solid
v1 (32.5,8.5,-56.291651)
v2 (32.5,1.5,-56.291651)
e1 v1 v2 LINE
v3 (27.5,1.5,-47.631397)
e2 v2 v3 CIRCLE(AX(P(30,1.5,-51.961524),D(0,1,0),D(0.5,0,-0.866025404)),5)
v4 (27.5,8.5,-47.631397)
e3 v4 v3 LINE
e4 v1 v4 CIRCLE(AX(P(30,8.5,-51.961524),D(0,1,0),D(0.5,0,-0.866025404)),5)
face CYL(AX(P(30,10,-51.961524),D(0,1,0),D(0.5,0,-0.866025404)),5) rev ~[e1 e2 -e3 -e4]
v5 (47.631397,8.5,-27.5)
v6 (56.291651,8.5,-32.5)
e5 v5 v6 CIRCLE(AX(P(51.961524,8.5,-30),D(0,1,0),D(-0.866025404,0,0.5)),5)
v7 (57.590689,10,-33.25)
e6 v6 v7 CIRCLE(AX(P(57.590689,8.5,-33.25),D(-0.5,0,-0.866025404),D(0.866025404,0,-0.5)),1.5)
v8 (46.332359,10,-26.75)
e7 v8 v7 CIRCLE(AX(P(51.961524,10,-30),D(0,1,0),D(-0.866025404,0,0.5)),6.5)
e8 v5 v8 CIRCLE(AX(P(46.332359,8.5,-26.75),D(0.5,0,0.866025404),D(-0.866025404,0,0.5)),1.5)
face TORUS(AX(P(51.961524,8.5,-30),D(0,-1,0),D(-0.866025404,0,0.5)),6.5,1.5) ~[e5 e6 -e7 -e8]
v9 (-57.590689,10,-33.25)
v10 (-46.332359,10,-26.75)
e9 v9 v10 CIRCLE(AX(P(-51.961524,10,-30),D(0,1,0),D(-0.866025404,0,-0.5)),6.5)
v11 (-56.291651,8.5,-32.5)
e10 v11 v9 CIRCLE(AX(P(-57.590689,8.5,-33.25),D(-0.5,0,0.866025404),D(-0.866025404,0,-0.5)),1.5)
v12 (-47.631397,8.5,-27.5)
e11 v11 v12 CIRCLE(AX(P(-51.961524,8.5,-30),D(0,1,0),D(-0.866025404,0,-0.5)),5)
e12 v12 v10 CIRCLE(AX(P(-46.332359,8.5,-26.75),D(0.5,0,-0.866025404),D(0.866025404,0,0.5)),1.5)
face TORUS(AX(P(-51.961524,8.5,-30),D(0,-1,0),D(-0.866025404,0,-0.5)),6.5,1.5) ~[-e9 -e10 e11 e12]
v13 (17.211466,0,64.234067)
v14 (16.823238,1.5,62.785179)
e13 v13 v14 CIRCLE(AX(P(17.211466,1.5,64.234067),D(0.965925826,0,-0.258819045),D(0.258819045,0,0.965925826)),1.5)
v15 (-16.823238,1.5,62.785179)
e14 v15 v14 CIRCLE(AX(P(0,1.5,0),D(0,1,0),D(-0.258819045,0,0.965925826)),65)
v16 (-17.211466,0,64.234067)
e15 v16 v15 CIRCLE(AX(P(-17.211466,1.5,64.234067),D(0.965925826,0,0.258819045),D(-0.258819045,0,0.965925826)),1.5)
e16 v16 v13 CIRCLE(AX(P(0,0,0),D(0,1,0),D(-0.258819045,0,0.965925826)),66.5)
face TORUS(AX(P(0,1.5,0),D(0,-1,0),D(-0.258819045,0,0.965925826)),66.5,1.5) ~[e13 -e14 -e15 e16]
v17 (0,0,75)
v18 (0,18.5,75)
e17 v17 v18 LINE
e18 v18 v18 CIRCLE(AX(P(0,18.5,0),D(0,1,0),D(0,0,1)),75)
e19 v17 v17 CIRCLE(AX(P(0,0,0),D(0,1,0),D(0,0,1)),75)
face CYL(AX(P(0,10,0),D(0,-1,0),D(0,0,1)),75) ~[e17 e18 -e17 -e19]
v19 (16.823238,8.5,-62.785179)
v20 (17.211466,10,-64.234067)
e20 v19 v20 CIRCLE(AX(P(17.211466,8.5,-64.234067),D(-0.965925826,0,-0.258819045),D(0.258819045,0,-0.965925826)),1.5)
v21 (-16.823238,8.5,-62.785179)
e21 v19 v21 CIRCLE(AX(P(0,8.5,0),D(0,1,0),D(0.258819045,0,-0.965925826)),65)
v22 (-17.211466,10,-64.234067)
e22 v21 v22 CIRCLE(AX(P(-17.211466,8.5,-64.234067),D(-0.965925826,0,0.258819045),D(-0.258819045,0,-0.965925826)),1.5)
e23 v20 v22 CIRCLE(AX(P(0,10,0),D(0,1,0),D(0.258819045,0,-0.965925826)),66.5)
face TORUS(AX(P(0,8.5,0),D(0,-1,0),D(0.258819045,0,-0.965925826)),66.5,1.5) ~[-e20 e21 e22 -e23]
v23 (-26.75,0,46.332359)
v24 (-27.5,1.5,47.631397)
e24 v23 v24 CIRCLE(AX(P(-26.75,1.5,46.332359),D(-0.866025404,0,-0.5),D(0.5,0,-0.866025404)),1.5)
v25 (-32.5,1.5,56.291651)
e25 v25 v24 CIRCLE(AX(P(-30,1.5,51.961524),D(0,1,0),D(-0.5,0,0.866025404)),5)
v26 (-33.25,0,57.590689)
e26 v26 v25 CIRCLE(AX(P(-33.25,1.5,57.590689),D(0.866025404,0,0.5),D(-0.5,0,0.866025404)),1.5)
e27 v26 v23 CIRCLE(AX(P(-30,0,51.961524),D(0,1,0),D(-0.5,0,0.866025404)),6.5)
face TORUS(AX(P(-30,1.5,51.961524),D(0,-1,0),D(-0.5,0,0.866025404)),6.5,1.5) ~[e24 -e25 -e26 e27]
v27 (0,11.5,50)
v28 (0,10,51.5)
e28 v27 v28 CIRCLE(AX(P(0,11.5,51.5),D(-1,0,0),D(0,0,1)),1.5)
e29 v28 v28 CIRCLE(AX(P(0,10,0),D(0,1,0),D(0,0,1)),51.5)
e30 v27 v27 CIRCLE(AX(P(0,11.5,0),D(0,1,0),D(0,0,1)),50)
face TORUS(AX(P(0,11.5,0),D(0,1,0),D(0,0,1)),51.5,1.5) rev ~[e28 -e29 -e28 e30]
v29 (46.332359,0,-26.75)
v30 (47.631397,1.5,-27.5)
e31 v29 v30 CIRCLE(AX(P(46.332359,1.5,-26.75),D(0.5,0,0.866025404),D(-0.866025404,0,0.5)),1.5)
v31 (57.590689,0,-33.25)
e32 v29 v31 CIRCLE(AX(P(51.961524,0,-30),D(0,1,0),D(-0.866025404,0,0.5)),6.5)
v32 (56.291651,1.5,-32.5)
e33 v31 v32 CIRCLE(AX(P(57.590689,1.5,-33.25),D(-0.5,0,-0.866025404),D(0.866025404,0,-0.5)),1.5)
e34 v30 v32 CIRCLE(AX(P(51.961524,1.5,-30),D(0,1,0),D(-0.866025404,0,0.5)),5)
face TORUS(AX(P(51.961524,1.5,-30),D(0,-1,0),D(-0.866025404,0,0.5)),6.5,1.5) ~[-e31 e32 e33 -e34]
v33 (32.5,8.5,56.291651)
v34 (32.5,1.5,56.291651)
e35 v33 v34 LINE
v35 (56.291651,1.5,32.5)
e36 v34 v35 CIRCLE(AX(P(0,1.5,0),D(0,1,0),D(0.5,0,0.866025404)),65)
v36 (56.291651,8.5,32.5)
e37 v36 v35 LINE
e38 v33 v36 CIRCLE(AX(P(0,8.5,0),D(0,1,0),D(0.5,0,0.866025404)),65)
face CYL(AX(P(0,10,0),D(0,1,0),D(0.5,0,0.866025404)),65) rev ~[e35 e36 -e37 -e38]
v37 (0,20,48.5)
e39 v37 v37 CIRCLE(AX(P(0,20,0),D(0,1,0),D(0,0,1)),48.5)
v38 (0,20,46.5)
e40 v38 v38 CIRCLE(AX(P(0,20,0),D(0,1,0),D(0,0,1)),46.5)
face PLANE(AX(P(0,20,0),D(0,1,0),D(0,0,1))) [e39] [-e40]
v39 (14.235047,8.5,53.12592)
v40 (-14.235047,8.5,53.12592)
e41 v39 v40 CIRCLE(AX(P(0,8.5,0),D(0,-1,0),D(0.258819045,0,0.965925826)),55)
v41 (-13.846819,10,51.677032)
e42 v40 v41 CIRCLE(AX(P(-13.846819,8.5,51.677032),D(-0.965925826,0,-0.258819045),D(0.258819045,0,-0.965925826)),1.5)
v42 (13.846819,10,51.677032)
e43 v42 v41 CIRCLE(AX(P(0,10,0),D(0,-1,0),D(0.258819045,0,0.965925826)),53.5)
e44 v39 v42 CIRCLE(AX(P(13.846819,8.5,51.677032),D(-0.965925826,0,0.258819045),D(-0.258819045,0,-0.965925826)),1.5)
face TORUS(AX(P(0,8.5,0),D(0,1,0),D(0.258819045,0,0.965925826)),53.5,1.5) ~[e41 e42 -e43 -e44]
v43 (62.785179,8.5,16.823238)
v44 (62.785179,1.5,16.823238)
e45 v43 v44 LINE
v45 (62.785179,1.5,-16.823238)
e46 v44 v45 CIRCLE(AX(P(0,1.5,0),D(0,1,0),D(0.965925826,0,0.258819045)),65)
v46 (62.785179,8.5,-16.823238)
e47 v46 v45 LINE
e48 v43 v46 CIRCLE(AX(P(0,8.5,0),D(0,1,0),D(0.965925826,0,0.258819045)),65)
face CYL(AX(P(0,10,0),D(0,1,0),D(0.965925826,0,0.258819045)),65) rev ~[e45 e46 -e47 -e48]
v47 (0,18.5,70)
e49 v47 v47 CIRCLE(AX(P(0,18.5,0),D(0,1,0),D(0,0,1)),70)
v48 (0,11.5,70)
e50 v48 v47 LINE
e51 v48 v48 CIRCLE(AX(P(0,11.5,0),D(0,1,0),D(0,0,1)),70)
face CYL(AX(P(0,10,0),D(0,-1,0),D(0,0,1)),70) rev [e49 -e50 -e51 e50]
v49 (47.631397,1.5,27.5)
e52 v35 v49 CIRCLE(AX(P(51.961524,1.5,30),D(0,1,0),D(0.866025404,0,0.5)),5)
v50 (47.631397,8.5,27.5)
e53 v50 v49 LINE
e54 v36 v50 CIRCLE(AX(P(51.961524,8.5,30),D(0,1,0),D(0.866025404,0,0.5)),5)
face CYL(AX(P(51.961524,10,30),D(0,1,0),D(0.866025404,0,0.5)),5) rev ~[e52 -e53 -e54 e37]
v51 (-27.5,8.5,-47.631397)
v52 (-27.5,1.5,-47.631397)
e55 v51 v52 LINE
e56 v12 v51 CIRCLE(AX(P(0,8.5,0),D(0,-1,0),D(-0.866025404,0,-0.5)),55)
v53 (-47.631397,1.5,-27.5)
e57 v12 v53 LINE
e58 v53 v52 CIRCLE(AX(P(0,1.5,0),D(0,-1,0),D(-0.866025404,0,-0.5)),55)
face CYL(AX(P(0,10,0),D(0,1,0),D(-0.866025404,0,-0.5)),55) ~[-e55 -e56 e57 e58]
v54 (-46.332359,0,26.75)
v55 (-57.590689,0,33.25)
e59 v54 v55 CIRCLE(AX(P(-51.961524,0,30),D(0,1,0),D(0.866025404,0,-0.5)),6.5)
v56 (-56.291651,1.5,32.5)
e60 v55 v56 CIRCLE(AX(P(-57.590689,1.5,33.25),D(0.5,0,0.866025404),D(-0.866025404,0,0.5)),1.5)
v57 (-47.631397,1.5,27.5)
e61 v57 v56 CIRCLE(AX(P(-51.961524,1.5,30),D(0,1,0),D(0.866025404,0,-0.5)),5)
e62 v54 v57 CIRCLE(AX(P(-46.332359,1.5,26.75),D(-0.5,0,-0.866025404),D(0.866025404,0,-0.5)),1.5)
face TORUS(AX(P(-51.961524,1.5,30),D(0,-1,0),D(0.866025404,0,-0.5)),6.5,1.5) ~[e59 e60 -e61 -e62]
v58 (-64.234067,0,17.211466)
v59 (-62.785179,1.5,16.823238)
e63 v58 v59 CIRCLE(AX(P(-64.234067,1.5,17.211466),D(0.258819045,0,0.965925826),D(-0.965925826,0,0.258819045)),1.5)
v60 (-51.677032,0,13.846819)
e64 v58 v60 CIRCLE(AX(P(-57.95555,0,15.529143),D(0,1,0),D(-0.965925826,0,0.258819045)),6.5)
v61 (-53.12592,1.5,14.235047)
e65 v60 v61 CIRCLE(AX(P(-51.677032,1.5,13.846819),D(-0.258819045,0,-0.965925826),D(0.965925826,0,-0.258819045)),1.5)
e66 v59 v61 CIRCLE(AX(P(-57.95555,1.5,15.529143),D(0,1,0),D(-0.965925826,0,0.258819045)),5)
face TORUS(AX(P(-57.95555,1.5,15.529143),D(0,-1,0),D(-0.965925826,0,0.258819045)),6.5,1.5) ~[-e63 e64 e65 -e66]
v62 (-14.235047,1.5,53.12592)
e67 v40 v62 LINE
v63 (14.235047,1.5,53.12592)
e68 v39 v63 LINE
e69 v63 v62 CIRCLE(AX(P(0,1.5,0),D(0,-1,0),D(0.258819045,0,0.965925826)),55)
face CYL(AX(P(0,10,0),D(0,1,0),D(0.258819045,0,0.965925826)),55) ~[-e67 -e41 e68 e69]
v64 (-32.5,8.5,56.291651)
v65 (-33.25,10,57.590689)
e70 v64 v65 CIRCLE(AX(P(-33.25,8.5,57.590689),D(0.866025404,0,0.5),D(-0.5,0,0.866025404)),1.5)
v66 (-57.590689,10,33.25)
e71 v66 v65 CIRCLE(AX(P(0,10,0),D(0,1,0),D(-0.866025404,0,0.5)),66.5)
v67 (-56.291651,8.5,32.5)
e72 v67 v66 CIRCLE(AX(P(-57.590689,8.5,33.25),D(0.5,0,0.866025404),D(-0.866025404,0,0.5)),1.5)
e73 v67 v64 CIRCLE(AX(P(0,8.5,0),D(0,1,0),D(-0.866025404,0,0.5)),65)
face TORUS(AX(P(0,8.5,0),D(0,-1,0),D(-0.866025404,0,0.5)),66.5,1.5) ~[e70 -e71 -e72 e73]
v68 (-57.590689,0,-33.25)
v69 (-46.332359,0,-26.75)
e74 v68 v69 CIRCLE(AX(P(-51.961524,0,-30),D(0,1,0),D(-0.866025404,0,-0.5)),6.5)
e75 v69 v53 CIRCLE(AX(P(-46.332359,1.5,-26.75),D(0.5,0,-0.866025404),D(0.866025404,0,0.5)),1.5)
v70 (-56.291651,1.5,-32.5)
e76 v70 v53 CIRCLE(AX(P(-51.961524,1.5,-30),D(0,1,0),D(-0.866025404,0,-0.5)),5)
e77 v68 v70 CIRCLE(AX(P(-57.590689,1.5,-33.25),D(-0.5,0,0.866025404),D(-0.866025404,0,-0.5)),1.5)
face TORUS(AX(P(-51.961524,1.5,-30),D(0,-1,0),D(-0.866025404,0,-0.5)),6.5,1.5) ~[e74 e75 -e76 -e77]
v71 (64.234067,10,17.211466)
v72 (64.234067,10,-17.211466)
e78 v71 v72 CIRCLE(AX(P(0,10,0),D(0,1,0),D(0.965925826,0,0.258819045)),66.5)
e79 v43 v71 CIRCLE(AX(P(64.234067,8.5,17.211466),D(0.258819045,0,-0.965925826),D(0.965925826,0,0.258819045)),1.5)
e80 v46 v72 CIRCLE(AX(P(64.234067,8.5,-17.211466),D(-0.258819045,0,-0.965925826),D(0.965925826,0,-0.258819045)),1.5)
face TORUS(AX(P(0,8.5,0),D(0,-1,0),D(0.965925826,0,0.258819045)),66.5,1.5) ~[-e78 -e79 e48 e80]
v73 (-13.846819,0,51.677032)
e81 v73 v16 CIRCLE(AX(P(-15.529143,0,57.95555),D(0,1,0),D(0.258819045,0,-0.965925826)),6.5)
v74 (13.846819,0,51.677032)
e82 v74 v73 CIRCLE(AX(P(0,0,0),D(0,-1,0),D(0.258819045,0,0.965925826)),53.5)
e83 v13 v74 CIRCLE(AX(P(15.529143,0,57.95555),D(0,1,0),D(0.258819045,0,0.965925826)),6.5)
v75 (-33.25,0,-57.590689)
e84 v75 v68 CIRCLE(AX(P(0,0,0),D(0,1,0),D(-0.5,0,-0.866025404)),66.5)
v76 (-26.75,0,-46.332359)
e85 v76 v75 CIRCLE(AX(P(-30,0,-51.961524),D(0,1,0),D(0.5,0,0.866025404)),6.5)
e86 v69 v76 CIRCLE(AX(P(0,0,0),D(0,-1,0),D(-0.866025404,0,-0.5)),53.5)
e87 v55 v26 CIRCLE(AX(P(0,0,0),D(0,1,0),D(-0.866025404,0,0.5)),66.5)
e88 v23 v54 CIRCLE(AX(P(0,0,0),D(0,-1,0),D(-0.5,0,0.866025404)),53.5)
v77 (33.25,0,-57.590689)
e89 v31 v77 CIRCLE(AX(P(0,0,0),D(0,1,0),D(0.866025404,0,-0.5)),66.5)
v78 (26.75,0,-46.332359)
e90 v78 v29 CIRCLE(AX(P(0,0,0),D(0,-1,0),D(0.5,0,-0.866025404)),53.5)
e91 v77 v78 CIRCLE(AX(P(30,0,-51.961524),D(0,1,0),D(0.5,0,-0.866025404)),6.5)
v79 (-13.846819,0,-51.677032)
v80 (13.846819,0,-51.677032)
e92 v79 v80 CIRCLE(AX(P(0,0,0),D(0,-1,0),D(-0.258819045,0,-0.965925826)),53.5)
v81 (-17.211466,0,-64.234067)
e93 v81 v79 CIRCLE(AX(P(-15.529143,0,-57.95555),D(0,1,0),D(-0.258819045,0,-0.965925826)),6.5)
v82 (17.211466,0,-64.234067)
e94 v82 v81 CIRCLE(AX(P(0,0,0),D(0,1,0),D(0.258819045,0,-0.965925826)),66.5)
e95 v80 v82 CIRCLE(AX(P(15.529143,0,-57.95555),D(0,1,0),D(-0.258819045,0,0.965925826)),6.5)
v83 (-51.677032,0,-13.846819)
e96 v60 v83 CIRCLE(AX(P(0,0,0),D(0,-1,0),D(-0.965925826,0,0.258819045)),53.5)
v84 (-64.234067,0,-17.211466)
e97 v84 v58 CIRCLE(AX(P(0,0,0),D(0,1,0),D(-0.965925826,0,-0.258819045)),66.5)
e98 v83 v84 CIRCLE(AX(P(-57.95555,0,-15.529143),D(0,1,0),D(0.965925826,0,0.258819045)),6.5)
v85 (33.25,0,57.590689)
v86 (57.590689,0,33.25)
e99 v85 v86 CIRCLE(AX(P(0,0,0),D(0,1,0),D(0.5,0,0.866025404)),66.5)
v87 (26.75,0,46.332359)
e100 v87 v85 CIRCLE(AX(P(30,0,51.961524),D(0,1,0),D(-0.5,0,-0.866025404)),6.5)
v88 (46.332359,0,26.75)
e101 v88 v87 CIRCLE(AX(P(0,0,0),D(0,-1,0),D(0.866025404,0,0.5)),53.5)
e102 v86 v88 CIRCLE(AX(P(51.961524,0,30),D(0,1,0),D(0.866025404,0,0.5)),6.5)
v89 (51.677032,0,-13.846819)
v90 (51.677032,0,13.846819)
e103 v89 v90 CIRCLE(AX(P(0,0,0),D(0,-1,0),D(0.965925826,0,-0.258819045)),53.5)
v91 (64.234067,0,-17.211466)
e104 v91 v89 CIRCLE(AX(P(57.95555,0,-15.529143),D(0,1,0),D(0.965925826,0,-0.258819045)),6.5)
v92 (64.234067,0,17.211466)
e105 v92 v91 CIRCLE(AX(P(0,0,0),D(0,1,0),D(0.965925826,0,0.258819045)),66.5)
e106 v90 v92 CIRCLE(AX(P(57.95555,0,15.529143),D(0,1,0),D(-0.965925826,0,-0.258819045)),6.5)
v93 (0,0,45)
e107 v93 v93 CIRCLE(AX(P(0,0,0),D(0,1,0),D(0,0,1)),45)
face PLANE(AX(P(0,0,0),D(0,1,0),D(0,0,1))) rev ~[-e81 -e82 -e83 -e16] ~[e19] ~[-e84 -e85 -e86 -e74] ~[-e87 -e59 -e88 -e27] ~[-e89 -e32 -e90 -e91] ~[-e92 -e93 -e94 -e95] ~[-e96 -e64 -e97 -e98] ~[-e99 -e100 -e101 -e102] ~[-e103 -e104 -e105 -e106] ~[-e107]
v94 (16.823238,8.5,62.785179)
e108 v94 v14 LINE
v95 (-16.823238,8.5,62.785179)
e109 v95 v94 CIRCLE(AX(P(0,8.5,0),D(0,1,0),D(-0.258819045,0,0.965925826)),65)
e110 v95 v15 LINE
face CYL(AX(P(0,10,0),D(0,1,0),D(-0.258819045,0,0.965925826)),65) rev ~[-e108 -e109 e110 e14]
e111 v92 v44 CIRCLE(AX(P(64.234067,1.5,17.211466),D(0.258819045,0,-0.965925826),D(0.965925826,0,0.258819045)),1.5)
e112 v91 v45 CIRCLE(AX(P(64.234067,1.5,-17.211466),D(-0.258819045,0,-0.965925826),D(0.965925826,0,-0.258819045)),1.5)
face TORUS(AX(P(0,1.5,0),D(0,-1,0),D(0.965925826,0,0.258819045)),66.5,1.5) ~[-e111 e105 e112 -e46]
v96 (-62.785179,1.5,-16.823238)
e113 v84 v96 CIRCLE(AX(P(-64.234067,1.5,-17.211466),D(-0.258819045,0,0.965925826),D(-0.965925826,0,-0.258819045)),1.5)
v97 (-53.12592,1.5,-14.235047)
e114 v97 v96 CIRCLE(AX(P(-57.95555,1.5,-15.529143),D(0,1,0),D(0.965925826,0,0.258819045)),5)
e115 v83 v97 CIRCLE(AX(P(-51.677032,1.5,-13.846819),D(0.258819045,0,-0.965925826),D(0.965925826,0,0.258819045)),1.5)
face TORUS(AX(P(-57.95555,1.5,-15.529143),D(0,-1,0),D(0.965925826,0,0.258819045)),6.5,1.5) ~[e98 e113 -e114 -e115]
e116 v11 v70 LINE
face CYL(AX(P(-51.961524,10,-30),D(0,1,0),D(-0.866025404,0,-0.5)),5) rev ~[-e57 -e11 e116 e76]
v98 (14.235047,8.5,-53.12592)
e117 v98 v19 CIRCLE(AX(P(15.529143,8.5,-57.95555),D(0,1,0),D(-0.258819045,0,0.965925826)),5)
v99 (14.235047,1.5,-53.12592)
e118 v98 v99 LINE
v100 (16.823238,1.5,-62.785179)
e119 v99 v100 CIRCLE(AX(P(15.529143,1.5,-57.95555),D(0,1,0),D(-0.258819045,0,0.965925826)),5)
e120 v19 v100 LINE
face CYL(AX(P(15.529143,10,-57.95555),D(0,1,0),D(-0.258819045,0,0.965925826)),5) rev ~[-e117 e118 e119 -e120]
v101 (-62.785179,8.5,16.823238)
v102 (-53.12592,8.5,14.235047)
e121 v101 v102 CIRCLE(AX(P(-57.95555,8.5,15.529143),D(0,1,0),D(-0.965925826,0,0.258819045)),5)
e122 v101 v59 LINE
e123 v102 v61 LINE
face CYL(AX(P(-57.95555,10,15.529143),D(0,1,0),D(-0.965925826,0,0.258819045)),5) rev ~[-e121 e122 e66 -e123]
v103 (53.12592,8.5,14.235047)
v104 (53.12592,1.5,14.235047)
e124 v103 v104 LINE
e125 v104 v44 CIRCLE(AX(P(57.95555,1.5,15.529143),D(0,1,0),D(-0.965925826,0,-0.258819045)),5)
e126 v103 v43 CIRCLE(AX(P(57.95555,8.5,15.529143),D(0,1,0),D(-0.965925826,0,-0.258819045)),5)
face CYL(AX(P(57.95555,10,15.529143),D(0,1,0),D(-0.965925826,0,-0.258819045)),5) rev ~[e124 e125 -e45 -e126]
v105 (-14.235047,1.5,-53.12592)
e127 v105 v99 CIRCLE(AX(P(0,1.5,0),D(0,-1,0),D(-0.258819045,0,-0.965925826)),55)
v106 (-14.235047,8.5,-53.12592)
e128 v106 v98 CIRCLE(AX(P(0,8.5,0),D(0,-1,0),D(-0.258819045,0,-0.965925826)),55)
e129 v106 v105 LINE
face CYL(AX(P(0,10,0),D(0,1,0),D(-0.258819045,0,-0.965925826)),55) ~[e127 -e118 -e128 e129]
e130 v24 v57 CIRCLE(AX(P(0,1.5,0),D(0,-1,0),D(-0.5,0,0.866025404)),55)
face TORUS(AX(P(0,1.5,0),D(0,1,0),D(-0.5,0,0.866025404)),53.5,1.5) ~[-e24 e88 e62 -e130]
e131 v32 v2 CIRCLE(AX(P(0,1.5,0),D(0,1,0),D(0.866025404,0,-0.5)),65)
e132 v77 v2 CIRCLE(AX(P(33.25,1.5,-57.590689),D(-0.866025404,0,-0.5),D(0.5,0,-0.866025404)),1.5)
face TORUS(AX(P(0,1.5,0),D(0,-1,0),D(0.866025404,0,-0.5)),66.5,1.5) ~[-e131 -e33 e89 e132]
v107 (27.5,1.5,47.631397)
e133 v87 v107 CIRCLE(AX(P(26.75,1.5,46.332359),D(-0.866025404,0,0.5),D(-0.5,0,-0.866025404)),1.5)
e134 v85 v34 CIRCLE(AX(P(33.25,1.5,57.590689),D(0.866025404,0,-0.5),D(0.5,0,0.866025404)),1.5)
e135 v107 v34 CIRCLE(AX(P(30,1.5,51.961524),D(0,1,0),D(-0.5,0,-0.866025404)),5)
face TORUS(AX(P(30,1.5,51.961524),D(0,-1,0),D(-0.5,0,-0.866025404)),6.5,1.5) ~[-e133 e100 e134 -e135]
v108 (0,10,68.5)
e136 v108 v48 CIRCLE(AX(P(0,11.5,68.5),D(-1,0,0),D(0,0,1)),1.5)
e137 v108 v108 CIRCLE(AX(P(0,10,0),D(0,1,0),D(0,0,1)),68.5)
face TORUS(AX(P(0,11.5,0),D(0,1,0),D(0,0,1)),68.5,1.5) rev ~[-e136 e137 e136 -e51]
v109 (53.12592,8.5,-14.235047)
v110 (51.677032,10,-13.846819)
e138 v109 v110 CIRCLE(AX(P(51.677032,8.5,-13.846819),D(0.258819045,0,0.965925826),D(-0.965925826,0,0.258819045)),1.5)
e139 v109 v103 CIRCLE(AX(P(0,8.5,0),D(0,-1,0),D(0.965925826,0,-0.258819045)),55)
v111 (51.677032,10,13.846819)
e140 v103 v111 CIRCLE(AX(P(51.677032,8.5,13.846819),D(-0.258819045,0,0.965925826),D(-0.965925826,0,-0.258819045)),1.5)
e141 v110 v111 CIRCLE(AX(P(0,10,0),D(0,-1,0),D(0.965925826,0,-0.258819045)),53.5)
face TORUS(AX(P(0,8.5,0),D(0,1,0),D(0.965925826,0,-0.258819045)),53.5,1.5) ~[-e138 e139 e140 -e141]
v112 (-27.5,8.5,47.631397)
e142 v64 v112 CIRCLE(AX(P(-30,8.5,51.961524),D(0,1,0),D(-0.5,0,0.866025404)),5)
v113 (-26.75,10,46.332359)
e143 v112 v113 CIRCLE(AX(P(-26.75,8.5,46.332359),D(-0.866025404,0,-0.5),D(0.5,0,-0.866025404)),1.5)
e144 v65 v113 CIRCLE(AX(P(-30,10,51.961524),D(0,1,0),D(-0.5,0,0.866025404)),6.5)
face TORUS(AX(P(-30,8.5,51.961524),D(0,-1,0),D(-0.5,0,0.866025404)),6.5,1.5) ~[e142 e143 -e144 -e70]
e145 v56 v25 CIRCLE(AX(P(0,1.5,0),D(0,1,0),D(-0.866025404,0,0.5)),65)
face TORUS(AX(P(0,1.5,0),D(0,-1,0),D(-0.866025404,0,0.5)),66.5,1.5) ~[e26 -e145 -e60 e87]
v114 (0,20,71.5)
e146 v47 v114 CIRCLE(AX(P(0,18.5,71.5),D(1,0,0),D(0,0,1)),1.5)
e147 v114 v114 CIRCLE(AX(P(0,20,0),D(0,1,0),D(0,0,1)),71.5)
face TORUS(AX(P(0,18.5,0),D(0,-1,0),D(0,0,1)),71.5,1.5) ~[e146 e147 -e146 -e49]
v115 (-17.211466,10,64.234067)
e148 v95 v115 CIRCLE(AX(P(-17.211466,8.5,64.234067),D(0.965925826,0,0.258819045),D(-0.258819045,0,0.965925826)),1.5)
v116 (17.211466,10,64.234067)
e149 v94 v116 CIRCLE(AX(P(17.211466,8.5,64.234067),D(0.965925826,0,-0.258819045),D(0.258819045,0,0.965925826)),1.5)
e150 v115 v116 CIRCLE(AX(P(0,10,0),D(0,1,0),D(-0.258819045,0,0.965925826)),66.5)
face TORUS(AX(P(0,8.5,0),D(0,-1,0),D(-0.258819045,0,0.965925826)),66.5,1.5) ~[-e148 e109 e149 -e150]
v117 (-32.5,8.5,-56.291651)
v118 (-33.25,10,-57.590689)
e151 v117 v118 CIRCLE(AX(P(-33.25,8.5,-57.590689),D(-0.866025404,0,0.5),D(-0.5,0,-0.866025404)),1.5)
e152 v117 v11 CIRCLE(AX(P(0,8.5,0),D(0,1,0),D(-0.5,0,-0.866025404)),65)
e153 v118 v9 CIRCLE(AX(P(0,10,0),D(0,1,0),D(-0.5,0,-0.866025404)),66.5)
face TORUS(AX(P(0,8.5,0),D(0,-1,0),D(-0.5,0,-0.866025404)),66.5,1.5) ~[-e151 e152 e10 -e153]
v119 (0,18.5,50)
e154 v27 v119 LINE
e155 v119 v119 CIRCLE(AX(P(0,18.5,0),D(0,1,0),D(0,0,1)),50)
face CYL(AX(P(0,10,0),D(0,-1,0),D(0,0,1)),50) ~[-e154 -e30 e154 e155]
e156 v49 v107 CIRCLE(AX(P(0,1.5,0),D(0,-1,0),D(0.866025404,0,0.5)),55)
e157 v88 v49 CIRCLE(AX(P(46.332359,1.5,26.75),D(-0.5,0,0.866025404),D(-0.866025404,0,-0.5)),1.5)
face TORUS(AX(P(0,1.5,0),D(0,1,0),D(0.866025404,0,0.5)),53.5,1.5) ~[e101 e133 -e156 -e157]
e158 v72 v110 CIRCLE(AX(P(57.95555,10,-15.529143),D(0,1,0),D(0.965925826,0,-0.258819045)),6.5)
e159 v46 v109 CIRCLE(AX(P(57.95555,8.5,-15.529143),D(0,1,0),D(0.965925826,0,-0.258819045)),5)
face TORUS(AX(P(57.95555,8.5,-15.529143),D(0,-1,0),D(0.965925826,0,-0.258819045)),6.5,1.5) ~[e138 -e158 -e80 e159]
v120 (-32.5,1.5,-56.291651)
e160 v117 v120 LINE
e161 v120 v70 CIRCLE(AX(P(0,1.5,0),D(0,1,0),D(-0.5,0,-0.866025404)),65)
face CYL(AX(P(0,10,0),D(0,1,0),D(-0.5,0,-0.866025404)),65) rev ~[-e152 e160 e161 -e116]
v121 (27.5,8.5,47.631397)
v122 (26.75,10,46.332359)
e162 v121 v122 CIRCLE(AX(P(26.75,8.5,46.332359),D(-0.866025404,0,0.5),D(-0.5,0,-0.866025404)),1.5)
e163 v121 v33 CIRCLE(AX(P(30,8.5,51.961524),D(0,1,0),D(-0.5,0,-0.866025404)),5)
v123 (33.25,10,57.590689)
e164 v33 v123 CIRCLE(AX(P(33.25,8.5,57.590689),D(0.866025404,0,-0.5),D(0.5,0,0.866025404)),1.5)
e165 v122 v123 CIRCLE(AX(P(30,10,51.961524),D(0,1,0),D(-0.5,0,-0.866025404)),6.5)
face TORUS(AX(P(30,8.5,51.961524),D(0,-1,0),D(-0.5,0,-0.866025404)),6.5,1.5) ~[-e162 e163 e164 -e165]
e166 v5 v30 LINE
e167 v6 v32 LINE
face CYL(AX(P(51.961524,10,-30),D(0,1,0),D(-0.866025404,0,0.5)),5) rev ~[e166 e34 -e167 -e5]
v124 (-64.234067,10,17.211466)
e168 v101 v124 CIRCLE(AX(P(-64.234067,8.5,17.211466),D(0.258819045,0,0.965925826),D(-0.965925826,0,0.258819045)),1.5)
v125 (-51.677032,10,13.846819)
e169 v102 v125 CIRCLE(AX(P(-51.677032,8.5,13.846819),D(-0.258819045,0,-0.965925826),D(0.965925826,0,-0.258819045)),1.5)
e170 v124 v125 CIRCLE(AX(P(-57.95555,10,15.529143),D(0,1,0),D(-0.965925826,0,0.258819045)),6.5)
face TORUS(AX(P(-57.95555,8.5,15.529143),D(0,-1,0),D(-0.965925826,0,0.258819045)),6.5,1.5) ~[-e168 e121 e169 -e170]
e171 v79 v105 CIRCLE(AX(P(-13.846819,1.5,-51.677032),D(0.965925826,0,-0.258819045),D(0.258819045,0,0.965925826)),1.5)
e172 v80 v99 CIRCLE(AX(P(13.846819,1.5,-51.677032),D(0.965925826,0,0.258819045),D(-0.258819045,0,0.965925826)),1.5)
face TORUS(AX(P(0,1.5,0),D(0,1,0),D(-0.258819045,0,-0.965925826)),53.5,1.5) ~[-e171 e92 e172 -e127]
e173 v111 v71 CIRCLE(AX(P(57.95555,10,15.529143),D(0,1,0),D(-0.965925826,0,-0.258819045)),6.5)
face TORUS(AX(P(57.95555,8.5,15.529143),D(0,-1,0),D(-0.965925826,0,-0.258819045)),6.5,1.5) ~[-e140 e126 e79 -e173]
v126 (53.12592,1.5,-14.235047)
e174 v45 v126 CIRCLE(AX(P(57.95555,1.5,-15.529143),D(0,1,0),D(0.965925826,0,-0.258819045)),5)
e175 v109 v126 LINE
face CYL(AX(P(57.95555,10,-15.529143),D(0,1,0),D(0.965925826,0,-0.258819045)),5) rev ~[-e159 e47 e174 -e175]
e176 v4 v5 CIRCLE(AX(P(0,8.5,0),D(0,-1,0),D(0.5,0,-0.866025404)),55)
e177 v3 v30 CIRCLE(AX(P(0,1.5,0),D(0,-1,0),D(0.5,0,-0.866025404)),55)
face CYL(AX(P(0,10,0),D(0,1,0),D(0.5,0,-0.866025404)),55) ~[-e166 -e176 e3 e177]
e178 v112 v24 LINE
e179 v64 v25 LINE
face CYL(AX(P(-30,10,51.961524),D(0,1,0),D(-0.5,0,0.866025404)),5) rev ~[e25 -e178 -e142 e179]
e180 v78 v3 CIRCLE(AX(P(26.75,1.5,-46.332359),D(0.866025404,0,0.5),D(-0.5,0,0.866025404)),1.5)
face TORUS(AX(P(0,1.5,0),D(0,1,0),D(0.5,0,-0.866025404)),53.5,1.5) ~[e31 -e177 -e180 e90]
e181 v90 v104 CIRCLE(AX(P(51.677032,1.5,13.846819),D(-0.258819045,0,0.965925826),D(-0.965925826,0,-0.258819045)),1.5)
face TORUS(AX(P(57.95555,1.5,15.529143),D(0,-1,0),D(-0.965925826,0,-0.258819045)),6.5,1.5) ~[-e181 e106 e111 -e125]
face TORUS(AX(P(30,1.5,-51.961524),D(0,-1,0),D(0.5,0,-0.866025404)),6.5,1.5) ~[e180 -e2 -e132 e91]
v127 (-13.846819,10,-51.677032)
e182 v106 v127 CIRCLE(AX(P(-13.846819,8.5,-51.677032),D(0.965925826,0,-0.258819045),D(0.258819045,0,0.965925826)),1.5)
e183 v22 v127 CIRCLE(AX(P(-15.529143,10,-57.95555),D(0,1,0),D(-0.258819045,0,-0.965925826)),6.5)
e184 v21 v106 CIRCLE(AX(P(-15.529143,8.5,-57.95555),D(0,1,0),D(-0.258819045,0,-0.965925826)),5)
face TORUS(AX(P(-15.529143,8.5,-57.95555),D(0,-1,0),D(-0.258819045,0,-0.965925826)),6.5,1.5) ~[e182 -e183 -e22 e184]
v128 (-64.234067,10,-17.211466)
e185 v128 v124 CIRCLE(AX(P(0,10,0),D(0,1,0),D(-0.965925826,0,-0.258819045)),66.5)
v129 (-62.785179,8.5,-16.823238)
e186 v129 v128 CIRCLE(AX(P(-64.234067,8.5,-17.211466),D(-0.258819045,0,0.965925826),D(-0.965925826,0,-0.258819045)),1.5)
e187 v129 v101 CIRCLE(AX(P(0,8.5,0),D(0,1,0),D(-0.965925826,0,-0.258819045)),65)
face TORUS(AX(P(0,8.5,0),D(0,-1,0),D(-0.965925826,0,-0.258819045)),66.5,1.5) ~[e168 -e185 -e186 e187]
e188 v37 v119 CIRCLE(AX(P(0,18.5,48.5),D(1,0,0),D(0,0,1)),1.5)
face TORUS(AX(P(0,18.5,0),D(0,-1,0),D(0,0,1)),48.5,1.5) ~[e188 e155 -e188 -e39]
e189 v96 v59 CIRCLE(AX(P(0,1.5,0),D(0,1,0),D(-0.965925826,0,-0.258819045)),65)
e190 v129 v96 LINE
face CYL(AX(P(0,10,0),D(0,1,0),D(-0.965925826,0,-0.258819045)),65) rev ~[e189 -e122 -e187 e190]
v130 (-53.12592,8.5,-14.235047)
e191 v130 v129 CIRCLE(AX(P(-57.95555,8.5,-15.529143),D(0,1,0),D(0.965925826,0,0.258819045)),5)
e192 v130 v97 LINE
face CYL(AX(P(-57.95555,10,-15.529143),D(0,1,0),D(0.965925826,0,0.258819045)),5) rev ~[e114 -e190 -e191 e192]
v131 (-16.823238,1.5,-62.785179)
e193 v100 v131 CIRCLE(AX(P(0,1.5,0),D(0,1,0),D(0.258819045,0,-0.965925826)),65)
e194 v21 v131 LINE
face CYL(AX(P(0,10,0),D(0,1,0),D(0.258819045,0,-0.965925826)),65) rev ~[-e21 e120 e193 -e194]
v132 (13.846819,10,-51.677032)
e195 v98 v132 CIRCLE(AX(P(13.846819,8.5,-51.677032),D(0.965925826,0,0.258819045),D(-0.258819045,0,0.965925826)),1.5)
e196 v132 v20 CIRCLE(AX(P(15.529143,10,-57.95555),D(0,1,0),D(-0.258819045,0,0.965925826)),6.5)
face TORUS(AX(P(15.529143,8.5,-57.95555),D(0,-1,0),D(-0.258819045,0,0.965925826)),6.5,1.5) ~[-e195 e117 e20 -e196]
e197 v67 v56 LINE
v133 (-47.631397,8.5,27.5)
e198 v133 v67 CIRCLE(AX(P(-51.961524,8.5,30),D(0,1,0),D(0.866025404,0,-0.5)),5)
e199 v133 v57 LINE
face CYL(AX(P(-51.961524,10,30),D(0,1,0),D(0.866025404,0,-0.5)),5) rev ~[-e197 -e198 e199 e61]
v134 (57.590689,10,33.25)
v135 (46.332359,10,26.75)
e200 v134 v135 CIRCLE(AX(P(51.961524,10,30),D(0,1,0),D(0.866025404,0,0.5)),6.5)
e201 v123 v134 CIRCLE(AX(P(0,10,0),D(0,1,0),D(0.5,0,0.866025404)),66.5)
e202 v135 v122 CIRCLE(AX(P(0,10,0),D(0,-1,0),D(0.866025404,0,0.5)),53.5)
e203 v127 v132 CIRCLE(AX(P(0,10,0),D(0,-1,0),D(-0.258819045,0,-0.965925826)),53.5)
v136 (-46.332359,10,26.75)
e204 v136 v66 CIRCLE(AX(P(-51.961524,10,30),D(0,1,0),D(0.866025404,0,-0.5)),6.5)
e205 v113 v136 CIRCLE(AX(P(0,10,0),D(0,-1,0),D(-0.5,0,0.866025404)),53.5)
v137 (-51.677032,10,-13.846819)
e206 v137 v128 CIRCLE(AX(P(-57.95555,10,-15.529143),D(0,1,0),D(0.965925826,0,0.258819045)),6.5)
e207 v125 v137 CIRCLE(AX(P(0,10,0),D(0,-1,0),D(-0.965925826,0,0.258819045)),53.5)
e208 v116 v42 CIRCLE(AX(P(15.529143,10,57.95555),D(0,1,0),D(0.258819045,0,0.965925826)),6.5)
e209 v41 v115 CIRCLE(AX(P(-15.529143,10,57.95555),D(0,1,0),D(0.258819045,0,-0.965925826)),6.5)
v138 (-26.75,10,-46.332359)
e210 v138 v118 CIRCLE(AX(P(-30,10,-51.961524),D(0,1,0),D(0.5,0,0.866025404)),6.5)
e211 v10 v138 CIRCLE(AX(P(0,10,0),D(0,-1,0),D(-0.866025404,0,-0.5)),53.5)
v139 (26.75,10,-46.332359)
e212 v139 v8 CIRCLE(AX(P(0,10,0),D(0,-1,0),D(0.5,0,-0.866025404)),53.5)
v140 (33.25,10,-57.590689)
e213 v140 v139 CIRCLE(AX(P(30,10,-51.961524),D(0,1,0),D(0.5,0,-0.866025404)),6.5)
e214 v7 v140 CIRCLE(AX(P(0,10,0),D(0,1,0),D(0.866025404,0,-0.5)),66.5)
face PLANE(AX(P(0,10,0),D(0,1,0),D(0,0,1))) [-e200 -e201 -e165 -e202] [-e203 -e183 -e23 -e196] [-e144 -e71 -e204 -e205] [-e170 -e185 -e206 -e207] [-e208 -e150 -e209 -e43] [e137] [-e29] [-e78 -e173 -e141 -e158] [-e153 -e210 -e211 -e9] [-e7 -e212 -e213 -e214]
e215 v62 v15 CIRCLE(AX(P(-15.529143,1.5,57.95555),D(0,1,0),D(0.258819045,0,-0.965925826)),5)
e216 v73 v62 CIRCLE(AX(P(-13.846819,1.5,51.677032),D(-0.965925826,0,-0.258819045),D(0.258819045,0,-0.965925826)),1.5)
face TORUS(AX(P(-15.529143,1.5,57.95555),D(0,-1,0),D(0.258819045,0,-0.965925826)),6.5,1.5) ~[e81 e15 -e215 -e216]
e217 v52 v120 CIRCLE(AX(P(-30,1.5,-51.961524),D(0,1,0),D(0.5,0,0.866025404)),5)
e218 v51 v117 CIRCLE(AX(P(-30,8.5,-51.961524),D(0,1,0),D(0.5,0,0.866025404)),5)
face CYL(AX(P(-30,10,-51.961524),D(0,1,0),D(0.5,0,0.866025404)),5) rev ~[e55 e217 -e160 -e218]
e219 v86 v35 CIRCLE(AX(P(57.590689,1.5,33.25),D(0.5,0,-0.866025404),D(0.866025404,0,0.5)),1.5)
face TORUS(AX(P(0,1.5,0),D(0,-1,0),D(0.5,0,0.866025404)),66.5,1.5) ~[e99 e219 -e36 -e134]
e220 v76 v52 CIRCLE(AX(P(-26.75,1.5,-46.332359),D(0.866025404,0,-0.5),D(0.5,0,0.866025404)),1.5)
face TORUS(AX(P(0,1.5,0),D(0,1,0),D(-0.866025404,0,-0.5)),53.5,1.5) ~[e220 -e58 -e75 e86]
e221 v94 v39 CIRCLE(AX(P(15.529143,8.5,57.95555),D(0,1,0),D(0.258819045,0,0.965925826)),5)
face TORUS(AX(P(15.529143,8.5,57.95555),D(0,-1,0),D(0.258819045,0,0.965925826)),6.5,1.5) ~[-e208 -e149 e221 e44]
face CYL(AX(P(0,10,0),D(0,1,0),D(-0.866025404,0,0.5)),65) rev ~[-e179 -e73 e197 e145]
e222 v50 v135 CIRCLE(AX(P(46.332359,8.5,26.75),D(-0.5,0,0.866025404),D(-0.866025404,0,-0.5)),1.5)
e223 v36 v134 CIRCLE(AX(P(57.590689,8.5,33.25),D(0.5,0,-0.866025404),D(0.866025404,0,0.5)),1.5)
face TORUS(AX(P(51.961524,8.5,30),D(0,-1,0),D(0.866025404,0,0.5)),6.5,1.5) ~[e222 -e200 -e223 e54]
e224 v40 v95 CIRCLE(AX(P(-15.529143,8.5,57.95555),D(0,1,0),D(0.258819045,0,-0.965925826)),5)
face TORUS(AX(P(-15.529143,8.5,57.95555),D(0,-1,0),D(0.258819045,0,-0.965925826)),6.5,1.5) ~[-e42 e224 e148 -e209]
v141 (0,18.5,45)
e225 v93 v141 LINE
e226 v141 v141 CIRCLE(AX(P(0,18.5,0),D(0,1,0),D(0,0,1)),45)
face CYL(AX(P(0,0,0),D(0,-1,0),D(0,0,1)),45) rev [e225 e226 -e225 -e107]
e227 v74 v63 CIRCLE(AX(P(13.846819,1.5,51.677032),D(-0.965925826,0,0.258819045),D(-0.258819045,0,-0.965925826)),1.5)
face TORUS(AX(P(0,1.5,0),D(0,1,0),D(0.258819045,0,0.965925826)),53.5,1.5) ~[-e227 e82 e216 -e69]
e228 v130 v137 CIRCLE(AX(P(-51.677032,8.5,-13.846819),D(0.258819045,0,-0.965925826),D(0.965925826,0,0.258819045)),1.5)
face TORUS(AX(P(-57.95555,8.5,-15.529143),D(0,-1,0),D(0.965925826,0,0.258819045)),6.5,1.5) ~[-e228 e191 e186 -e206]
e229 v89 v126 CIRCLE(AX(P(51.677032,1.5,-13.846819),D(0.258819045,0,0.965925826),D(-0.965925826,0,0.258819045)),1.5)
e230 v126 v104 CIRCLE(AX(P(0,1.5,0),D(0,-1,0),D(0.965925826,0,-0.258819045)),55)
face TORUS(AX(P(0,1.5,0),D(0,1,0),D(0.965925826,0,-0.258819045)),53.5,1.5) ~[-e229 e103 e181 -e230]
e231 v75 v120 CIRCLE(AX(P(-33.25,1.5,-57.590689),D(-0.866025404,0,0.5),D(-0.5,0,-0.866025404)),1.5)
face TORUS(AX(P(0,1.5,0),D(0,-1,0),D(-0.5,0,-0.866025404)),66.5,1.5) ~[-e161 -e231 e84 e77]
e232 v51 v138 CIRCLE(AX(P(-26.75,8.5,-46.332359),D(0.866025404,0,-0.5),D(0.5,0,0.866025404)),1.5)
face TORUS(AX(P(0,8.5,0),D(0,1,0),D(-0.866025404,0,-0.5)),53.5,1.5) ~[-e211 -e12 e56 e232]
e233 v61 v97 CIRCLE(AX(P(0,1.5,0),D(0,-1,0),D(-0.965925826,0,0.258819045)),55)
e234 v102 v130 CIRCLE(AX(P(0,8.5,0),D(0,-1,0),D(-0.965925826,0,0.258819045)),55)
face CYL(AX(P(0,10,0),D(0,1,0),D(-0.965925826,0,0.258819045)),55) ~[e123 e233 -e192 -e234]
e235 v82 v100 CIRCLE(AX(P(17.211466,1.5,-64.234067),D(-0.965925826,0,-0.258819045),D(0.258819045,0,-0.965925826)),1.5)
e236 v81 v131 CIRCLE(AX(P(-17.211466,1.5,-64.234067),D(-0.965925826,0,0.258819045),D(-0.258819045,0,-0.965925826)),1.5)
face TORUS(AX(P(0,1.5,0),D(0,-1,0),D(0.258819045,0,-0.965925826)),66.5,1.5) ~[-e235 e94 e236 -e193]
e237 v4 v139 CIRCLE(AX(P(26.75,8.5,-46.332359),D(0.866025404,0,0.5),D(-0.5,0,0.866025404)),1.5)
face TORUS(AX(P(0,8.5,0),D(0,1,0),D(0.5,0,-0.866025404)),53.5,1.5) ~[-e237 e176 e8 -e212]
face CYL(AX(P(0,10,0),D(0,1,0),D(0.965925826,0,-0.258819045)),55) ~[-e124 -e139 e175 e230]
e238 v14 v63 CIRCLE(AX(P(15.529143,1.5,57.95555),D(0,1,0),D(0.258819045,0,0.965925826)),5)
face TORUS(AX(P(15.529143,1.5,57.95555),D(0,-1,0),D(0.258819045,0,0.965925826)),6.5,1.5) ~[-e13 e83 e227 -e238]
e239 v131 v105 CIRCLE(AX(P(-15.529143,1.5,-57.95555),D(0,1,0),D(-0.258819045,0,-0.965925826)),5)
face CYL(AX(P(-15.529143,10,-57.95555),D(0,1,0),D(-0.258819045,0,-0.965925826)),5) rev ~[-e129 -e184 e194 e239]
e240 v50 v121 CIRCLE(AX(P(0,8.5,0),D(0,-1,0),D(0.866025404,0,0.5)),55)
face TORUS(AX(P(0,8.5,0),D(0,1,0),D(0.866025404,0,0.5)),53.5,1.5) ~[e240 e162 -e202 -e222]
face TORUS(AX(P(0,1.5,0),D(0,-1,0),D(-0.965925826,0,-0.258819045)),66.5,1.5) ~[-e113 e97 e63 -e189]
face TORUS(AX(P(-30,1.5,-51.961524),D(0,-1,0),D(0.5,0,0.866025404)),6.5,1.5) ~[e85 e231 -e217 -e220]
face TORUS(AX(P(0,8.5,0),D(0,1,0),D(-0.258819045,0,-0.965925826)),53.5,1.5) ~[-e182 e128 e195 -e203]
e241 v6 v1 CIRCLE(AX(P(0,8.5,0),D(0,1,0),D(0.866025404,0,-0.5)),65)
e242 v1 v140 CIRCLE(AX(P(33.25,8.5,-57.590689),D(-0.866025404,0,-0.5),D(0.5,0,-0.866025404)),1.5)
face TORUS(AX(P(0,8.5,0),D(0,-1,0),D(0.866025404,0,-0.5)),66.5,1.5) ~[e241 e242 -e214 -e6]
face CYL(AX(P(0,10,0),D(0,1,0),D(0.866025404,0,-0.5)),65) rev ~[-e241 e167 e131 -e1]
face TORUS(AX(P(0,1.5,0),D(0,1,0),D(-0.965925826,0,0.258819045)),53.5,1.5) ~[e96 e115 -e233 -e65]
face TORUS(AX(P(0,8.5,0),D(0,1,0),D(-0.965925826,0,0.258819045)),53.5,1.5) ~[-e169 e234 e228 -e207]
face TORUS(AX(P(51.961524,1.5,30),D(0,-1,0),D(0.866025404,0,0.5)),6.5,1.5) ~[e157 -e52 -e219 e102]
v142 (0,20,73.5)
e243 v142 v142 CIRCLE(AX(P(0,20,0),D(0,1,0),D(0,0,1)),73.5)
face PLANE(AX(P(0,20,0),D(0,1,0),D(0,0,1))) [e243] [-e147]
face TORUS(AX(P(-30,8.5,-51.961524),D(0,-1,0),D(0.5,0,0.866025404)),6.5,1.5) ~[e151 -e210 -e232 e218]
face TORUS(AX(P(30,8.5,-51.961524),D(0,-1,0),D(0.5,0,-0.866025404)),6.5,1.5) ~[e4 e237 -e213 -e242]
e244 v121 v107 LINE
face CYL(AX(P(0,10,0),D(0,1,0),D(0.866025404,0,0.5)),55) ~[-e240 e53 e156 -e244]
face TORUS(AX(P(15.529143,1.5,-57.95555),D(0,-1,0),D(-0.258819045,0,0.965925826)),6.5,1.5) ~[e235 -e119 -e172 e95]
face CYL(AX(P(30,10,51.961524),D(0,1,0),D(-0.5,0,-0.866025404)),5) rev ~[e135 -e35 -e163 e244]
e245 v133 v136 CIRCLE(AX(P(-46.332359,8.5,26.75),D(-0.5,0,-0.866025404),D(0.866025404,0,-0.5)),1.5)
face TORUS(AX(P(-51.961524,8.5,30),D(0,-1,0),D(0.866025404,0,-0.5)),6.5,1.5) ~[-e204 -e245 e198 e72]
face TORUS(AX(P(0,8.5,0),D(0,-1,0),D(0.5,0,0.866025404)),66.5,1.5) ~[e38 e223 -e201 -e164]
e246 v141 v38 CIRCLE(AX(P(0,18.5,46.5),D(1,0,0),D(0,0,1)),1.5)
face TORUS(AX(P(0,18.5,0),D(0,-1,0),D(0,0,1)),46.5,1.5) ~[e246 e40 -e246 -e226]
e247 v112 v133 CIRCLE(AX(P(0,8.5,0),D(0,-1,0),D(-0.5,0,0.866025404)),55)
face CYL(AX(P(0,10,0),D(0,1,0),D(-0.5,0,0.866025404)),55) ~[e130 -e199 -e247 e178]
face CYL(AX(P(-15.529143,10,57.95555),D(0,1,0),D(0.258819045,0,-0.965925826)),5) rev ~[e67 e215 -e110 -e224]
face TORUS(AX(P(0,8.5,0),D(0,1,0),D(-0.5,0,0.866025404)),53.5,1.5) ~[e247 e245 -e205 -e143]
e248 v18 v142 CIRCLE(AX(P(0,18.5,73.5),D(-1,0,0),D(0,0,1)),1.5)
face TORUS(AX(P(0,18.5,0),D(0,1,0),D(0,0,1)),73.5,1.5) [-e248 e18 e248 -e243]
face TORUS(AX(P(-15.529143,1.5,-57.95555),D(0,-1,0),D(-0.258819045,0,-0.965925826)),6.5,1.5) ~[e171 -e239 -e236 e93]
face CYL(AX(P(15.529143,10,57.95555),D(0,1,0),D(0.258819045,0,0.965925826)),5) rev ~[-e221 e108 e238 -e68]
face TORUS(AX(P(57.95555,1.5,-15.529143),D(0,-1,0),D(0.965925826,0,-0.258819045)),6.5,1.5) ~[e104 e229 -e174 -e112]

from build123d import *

# Parameters (mm, degrees)
SKETCH1_R                = 75
SKETCH1_R_2              = 45
BOSS_EXTRUDE1_DEPTH      = 10
SKETCH2_R                = 75
SKETCH2_R_2              = 70
SKETCH2_R_3              = 50
SKETCH2_R_4              = 45
BOSS_EXTRUDE2_DEPTH      = 10
FILLET1_R                = 1.5
CUT_EXTRUDE1_DEPTH       = 107.536378834
FILLET2_R                = 1.5
CIRPATTERN5_COUNT        = 8
FILLET2_OF_CIRPATTERN5_R = 1.5


with BuildPart() as part:
    # Sketch1 → Boss-Extrude1 (new body)
    with BuildSketch(Plane(origin=(0, 0, 0), x_dir=(1, 0, 0), z_dir=(0, 1, 0))):
        with Locations(Location((0, 0, 0), (0, 0, 270))):
            Circle(SKETCH1_R)
        with Locations(Location((0, 0, 0), (0, 0, 270))):
            Circle(SKETCH1_R_2, mode=Mode.SUBTRACT)
    extrude(amount=BOSS_EXTRUDE1_DEPTH)

    # Sketch2 → Boss-Extrude2 (add)
    # profile 1 of 2: a face of its own
    with BuildSketch(Plane(origin=(0, 10, 0), x_dir=(1, 0, 0), z_dir=(0, 1, 0))):
        with Locations(Location((0, 0, 0), (0, 0, 270))):
            Circle(SKETCH2_R)
        with Locations(Location((0, 0, 0), (0, 0, 270))):
            Circle(SKETCH2_R_2, mode=Mode.SUBTRACT)
    # profile 2 of 2: a face of its own
    with BuildSketch(Plane(origin=(0, 10, 0), x_dir=(1, 0, 0), z_dir=(0, 1, 0))):
        with Locations(Location((0, 0, 0), (0, 0, 270))):
            Circle(SKETCH2_R_3)
        with Locations(Location((0, 0, 0), (0, 0, 270))):
            Circle(SKETCH2_R_4, mode=Mode.SUBTRACT)
    extrude(amount=BOSS_EXTRUDE2_DEPTH)

    # Fillet1
    fillet1_edges = [part.edges().sort_by_distance(p)[0] for p in [
        (0, 10, -70),
        (0, 20, -70),
        (0, 20, -75),
        (0, 10, -50),
        (0, 20, -45),
        (0, 20, -50),
    ]]
    fillet(fillet1_edges, radius=FILLET1_R)

    # Sketch3 → Cut-Extrude1 (cut, through all)
    with BuildSketch(Plane(origin=(0, 10, 0), x_dir=(1, 0, 0), z_dir=(0, 1, 0))):
        with BuildLine():
            ThreePointArc((16.823237932, 62.785178709), (0, 65), (-16.823237932, 62.785178709))
            ThreePointArc((-16.823237932, 62.785178709), (-20.358771838, 56.661454352), (-14.235047481, 53.125920446))
            ThreePointArc((-14.235047481, 53.125920446), (0, 55), (14.235047481, 53.125920446))
            ThreePointArc((14.235047481, 53.125920446), (20.358771838, 56.661454352), (16.823237932, 62.785178709))
        make_face()
    cut_extrude1 = extrude(amount=-CUT_EXTRUDE1_DEPTH, mode=Mode.SUBTRACT)

    # Fillet2
    fillet2_edges = [part.edges().sort_by_distance(p)[0] for p in [
        (20.358771838, 0, -56.661454352),
        (0, 0, -55),
        (-20.358771838, 0, -56.661454352),
        (0, 0, -65),
        (20.358771838, 10, -56.661454352),
        (0, 10, -65),
        (-20.358771838, 10, -56.661454352),
        (0, 10, -55),
    ]]
    fillet(fillet2_edges, radius=FILLET2_R)

    # CirPattern5: Cut-Extrude1 ×8 about axis
    cirpattern5_axis = Axis((0, 0, 0), (0, 1, 0))
    for i in range(1, CIRPATTERN5_COUNT):
        add(cut_extrude1.rotate(cirpattern5_axis, i * 360 / CIRPATTERN5_COUNT), mode=Mode.SUBTRACT)

    # Fillet2 of CirPattern5
    fillet2_of_cirpattern5_edges = [part.edges().sort_by_distance(p)[0] for p in [
        (-25.669872981, 0, -54.461524227),
        (-38.890872965, 0, -38.890872965),
        (-54.461524227, 0, -25.669872981),
        (-45.961940777, 0, -45.961940777),
        (-25.669872981, 10, -54.461524227),
        (-45.961940777, 10, -45.961940777),
        (-54.461524227, 10, -25.669872981),
        (-38.890872965, 10, -38.890872965),
        (-56.661454352, 0, -20.358771838),
        (-55, 0, 0),
        (-56.661454352, 0, 20.358771838),
        (-65, 0, 0),
        (-56.661454352, 10, -20.358771838),
        (-65, 10, 0),
        (-56.661454352, 10, 20.358771838),
        (-55, 10, 0),
        (-54.461524227, 0, 25.669872981),
        (-38.890872965, 0, 38.890872965),
        (-25.669872981, 0, 54.461524227),
        (-45.961940777, 0, 45.961940777),
        (-54.461524227, 10, 25.669872981),
        (-45.961940777, 10, 45.961940777),
        (-25.669872981, 10, 54.461524227),
        (-38.890872965, 10, 38.890872965),
        (-20.358771838, 0, 56.661454352),
        (0, 0, 55),
        (20.358771838, 0, 56.661454352),
        (0, 0, 65),
        (-20.358771838, 10, 56.661454352),
        (0, 10, 65),
        (20.358771838, 10, 56.661454352),
        (0, 10, 55),
        (25.669872981, 0, 54.461524227),
        (38.890872965, 0, 38.890872965),
        (54.461524227, 0, 25.669872981),
        (45.961940777, 0, 45.961940777),
        (25.669872981, 10, 54.461524227),
        (45.961940777, 10, 45.961940777),
        (54.461524227, 10, 25.669872981),
        (38.890872965, 10, 38.890872965),
        (56.661454352, 0, 20.358771838),
        (55, 0, 0),
        (56.661454352, 0, -20.358771838),
        (65, 0, 0),
        (56.661454352, 10, 20.358771838),
        (65, 10, 0),
        (56.661454352, 10, -20.358771838),
        (55, 10, 0),
        (54.461524227, 0, -25.669872981),
        (38.890872965, 0, -38.890872965),
        (25.669872981, 0, -54.461524227),
        (45.961940777, 0, -45.961940777),
        (54.461524227, 10, -25.669872981),
        (45.961940777, 10, -45.961940777),
        (25.669872981, 10, -54.461524227),
        (38.890872965, 10, -38.890872965),
    ]]
    fillet(fillet2_of_cirpattern5_edges, radius=FILLET2_OF_CIRPATTERN5_R)


solid = part.part
